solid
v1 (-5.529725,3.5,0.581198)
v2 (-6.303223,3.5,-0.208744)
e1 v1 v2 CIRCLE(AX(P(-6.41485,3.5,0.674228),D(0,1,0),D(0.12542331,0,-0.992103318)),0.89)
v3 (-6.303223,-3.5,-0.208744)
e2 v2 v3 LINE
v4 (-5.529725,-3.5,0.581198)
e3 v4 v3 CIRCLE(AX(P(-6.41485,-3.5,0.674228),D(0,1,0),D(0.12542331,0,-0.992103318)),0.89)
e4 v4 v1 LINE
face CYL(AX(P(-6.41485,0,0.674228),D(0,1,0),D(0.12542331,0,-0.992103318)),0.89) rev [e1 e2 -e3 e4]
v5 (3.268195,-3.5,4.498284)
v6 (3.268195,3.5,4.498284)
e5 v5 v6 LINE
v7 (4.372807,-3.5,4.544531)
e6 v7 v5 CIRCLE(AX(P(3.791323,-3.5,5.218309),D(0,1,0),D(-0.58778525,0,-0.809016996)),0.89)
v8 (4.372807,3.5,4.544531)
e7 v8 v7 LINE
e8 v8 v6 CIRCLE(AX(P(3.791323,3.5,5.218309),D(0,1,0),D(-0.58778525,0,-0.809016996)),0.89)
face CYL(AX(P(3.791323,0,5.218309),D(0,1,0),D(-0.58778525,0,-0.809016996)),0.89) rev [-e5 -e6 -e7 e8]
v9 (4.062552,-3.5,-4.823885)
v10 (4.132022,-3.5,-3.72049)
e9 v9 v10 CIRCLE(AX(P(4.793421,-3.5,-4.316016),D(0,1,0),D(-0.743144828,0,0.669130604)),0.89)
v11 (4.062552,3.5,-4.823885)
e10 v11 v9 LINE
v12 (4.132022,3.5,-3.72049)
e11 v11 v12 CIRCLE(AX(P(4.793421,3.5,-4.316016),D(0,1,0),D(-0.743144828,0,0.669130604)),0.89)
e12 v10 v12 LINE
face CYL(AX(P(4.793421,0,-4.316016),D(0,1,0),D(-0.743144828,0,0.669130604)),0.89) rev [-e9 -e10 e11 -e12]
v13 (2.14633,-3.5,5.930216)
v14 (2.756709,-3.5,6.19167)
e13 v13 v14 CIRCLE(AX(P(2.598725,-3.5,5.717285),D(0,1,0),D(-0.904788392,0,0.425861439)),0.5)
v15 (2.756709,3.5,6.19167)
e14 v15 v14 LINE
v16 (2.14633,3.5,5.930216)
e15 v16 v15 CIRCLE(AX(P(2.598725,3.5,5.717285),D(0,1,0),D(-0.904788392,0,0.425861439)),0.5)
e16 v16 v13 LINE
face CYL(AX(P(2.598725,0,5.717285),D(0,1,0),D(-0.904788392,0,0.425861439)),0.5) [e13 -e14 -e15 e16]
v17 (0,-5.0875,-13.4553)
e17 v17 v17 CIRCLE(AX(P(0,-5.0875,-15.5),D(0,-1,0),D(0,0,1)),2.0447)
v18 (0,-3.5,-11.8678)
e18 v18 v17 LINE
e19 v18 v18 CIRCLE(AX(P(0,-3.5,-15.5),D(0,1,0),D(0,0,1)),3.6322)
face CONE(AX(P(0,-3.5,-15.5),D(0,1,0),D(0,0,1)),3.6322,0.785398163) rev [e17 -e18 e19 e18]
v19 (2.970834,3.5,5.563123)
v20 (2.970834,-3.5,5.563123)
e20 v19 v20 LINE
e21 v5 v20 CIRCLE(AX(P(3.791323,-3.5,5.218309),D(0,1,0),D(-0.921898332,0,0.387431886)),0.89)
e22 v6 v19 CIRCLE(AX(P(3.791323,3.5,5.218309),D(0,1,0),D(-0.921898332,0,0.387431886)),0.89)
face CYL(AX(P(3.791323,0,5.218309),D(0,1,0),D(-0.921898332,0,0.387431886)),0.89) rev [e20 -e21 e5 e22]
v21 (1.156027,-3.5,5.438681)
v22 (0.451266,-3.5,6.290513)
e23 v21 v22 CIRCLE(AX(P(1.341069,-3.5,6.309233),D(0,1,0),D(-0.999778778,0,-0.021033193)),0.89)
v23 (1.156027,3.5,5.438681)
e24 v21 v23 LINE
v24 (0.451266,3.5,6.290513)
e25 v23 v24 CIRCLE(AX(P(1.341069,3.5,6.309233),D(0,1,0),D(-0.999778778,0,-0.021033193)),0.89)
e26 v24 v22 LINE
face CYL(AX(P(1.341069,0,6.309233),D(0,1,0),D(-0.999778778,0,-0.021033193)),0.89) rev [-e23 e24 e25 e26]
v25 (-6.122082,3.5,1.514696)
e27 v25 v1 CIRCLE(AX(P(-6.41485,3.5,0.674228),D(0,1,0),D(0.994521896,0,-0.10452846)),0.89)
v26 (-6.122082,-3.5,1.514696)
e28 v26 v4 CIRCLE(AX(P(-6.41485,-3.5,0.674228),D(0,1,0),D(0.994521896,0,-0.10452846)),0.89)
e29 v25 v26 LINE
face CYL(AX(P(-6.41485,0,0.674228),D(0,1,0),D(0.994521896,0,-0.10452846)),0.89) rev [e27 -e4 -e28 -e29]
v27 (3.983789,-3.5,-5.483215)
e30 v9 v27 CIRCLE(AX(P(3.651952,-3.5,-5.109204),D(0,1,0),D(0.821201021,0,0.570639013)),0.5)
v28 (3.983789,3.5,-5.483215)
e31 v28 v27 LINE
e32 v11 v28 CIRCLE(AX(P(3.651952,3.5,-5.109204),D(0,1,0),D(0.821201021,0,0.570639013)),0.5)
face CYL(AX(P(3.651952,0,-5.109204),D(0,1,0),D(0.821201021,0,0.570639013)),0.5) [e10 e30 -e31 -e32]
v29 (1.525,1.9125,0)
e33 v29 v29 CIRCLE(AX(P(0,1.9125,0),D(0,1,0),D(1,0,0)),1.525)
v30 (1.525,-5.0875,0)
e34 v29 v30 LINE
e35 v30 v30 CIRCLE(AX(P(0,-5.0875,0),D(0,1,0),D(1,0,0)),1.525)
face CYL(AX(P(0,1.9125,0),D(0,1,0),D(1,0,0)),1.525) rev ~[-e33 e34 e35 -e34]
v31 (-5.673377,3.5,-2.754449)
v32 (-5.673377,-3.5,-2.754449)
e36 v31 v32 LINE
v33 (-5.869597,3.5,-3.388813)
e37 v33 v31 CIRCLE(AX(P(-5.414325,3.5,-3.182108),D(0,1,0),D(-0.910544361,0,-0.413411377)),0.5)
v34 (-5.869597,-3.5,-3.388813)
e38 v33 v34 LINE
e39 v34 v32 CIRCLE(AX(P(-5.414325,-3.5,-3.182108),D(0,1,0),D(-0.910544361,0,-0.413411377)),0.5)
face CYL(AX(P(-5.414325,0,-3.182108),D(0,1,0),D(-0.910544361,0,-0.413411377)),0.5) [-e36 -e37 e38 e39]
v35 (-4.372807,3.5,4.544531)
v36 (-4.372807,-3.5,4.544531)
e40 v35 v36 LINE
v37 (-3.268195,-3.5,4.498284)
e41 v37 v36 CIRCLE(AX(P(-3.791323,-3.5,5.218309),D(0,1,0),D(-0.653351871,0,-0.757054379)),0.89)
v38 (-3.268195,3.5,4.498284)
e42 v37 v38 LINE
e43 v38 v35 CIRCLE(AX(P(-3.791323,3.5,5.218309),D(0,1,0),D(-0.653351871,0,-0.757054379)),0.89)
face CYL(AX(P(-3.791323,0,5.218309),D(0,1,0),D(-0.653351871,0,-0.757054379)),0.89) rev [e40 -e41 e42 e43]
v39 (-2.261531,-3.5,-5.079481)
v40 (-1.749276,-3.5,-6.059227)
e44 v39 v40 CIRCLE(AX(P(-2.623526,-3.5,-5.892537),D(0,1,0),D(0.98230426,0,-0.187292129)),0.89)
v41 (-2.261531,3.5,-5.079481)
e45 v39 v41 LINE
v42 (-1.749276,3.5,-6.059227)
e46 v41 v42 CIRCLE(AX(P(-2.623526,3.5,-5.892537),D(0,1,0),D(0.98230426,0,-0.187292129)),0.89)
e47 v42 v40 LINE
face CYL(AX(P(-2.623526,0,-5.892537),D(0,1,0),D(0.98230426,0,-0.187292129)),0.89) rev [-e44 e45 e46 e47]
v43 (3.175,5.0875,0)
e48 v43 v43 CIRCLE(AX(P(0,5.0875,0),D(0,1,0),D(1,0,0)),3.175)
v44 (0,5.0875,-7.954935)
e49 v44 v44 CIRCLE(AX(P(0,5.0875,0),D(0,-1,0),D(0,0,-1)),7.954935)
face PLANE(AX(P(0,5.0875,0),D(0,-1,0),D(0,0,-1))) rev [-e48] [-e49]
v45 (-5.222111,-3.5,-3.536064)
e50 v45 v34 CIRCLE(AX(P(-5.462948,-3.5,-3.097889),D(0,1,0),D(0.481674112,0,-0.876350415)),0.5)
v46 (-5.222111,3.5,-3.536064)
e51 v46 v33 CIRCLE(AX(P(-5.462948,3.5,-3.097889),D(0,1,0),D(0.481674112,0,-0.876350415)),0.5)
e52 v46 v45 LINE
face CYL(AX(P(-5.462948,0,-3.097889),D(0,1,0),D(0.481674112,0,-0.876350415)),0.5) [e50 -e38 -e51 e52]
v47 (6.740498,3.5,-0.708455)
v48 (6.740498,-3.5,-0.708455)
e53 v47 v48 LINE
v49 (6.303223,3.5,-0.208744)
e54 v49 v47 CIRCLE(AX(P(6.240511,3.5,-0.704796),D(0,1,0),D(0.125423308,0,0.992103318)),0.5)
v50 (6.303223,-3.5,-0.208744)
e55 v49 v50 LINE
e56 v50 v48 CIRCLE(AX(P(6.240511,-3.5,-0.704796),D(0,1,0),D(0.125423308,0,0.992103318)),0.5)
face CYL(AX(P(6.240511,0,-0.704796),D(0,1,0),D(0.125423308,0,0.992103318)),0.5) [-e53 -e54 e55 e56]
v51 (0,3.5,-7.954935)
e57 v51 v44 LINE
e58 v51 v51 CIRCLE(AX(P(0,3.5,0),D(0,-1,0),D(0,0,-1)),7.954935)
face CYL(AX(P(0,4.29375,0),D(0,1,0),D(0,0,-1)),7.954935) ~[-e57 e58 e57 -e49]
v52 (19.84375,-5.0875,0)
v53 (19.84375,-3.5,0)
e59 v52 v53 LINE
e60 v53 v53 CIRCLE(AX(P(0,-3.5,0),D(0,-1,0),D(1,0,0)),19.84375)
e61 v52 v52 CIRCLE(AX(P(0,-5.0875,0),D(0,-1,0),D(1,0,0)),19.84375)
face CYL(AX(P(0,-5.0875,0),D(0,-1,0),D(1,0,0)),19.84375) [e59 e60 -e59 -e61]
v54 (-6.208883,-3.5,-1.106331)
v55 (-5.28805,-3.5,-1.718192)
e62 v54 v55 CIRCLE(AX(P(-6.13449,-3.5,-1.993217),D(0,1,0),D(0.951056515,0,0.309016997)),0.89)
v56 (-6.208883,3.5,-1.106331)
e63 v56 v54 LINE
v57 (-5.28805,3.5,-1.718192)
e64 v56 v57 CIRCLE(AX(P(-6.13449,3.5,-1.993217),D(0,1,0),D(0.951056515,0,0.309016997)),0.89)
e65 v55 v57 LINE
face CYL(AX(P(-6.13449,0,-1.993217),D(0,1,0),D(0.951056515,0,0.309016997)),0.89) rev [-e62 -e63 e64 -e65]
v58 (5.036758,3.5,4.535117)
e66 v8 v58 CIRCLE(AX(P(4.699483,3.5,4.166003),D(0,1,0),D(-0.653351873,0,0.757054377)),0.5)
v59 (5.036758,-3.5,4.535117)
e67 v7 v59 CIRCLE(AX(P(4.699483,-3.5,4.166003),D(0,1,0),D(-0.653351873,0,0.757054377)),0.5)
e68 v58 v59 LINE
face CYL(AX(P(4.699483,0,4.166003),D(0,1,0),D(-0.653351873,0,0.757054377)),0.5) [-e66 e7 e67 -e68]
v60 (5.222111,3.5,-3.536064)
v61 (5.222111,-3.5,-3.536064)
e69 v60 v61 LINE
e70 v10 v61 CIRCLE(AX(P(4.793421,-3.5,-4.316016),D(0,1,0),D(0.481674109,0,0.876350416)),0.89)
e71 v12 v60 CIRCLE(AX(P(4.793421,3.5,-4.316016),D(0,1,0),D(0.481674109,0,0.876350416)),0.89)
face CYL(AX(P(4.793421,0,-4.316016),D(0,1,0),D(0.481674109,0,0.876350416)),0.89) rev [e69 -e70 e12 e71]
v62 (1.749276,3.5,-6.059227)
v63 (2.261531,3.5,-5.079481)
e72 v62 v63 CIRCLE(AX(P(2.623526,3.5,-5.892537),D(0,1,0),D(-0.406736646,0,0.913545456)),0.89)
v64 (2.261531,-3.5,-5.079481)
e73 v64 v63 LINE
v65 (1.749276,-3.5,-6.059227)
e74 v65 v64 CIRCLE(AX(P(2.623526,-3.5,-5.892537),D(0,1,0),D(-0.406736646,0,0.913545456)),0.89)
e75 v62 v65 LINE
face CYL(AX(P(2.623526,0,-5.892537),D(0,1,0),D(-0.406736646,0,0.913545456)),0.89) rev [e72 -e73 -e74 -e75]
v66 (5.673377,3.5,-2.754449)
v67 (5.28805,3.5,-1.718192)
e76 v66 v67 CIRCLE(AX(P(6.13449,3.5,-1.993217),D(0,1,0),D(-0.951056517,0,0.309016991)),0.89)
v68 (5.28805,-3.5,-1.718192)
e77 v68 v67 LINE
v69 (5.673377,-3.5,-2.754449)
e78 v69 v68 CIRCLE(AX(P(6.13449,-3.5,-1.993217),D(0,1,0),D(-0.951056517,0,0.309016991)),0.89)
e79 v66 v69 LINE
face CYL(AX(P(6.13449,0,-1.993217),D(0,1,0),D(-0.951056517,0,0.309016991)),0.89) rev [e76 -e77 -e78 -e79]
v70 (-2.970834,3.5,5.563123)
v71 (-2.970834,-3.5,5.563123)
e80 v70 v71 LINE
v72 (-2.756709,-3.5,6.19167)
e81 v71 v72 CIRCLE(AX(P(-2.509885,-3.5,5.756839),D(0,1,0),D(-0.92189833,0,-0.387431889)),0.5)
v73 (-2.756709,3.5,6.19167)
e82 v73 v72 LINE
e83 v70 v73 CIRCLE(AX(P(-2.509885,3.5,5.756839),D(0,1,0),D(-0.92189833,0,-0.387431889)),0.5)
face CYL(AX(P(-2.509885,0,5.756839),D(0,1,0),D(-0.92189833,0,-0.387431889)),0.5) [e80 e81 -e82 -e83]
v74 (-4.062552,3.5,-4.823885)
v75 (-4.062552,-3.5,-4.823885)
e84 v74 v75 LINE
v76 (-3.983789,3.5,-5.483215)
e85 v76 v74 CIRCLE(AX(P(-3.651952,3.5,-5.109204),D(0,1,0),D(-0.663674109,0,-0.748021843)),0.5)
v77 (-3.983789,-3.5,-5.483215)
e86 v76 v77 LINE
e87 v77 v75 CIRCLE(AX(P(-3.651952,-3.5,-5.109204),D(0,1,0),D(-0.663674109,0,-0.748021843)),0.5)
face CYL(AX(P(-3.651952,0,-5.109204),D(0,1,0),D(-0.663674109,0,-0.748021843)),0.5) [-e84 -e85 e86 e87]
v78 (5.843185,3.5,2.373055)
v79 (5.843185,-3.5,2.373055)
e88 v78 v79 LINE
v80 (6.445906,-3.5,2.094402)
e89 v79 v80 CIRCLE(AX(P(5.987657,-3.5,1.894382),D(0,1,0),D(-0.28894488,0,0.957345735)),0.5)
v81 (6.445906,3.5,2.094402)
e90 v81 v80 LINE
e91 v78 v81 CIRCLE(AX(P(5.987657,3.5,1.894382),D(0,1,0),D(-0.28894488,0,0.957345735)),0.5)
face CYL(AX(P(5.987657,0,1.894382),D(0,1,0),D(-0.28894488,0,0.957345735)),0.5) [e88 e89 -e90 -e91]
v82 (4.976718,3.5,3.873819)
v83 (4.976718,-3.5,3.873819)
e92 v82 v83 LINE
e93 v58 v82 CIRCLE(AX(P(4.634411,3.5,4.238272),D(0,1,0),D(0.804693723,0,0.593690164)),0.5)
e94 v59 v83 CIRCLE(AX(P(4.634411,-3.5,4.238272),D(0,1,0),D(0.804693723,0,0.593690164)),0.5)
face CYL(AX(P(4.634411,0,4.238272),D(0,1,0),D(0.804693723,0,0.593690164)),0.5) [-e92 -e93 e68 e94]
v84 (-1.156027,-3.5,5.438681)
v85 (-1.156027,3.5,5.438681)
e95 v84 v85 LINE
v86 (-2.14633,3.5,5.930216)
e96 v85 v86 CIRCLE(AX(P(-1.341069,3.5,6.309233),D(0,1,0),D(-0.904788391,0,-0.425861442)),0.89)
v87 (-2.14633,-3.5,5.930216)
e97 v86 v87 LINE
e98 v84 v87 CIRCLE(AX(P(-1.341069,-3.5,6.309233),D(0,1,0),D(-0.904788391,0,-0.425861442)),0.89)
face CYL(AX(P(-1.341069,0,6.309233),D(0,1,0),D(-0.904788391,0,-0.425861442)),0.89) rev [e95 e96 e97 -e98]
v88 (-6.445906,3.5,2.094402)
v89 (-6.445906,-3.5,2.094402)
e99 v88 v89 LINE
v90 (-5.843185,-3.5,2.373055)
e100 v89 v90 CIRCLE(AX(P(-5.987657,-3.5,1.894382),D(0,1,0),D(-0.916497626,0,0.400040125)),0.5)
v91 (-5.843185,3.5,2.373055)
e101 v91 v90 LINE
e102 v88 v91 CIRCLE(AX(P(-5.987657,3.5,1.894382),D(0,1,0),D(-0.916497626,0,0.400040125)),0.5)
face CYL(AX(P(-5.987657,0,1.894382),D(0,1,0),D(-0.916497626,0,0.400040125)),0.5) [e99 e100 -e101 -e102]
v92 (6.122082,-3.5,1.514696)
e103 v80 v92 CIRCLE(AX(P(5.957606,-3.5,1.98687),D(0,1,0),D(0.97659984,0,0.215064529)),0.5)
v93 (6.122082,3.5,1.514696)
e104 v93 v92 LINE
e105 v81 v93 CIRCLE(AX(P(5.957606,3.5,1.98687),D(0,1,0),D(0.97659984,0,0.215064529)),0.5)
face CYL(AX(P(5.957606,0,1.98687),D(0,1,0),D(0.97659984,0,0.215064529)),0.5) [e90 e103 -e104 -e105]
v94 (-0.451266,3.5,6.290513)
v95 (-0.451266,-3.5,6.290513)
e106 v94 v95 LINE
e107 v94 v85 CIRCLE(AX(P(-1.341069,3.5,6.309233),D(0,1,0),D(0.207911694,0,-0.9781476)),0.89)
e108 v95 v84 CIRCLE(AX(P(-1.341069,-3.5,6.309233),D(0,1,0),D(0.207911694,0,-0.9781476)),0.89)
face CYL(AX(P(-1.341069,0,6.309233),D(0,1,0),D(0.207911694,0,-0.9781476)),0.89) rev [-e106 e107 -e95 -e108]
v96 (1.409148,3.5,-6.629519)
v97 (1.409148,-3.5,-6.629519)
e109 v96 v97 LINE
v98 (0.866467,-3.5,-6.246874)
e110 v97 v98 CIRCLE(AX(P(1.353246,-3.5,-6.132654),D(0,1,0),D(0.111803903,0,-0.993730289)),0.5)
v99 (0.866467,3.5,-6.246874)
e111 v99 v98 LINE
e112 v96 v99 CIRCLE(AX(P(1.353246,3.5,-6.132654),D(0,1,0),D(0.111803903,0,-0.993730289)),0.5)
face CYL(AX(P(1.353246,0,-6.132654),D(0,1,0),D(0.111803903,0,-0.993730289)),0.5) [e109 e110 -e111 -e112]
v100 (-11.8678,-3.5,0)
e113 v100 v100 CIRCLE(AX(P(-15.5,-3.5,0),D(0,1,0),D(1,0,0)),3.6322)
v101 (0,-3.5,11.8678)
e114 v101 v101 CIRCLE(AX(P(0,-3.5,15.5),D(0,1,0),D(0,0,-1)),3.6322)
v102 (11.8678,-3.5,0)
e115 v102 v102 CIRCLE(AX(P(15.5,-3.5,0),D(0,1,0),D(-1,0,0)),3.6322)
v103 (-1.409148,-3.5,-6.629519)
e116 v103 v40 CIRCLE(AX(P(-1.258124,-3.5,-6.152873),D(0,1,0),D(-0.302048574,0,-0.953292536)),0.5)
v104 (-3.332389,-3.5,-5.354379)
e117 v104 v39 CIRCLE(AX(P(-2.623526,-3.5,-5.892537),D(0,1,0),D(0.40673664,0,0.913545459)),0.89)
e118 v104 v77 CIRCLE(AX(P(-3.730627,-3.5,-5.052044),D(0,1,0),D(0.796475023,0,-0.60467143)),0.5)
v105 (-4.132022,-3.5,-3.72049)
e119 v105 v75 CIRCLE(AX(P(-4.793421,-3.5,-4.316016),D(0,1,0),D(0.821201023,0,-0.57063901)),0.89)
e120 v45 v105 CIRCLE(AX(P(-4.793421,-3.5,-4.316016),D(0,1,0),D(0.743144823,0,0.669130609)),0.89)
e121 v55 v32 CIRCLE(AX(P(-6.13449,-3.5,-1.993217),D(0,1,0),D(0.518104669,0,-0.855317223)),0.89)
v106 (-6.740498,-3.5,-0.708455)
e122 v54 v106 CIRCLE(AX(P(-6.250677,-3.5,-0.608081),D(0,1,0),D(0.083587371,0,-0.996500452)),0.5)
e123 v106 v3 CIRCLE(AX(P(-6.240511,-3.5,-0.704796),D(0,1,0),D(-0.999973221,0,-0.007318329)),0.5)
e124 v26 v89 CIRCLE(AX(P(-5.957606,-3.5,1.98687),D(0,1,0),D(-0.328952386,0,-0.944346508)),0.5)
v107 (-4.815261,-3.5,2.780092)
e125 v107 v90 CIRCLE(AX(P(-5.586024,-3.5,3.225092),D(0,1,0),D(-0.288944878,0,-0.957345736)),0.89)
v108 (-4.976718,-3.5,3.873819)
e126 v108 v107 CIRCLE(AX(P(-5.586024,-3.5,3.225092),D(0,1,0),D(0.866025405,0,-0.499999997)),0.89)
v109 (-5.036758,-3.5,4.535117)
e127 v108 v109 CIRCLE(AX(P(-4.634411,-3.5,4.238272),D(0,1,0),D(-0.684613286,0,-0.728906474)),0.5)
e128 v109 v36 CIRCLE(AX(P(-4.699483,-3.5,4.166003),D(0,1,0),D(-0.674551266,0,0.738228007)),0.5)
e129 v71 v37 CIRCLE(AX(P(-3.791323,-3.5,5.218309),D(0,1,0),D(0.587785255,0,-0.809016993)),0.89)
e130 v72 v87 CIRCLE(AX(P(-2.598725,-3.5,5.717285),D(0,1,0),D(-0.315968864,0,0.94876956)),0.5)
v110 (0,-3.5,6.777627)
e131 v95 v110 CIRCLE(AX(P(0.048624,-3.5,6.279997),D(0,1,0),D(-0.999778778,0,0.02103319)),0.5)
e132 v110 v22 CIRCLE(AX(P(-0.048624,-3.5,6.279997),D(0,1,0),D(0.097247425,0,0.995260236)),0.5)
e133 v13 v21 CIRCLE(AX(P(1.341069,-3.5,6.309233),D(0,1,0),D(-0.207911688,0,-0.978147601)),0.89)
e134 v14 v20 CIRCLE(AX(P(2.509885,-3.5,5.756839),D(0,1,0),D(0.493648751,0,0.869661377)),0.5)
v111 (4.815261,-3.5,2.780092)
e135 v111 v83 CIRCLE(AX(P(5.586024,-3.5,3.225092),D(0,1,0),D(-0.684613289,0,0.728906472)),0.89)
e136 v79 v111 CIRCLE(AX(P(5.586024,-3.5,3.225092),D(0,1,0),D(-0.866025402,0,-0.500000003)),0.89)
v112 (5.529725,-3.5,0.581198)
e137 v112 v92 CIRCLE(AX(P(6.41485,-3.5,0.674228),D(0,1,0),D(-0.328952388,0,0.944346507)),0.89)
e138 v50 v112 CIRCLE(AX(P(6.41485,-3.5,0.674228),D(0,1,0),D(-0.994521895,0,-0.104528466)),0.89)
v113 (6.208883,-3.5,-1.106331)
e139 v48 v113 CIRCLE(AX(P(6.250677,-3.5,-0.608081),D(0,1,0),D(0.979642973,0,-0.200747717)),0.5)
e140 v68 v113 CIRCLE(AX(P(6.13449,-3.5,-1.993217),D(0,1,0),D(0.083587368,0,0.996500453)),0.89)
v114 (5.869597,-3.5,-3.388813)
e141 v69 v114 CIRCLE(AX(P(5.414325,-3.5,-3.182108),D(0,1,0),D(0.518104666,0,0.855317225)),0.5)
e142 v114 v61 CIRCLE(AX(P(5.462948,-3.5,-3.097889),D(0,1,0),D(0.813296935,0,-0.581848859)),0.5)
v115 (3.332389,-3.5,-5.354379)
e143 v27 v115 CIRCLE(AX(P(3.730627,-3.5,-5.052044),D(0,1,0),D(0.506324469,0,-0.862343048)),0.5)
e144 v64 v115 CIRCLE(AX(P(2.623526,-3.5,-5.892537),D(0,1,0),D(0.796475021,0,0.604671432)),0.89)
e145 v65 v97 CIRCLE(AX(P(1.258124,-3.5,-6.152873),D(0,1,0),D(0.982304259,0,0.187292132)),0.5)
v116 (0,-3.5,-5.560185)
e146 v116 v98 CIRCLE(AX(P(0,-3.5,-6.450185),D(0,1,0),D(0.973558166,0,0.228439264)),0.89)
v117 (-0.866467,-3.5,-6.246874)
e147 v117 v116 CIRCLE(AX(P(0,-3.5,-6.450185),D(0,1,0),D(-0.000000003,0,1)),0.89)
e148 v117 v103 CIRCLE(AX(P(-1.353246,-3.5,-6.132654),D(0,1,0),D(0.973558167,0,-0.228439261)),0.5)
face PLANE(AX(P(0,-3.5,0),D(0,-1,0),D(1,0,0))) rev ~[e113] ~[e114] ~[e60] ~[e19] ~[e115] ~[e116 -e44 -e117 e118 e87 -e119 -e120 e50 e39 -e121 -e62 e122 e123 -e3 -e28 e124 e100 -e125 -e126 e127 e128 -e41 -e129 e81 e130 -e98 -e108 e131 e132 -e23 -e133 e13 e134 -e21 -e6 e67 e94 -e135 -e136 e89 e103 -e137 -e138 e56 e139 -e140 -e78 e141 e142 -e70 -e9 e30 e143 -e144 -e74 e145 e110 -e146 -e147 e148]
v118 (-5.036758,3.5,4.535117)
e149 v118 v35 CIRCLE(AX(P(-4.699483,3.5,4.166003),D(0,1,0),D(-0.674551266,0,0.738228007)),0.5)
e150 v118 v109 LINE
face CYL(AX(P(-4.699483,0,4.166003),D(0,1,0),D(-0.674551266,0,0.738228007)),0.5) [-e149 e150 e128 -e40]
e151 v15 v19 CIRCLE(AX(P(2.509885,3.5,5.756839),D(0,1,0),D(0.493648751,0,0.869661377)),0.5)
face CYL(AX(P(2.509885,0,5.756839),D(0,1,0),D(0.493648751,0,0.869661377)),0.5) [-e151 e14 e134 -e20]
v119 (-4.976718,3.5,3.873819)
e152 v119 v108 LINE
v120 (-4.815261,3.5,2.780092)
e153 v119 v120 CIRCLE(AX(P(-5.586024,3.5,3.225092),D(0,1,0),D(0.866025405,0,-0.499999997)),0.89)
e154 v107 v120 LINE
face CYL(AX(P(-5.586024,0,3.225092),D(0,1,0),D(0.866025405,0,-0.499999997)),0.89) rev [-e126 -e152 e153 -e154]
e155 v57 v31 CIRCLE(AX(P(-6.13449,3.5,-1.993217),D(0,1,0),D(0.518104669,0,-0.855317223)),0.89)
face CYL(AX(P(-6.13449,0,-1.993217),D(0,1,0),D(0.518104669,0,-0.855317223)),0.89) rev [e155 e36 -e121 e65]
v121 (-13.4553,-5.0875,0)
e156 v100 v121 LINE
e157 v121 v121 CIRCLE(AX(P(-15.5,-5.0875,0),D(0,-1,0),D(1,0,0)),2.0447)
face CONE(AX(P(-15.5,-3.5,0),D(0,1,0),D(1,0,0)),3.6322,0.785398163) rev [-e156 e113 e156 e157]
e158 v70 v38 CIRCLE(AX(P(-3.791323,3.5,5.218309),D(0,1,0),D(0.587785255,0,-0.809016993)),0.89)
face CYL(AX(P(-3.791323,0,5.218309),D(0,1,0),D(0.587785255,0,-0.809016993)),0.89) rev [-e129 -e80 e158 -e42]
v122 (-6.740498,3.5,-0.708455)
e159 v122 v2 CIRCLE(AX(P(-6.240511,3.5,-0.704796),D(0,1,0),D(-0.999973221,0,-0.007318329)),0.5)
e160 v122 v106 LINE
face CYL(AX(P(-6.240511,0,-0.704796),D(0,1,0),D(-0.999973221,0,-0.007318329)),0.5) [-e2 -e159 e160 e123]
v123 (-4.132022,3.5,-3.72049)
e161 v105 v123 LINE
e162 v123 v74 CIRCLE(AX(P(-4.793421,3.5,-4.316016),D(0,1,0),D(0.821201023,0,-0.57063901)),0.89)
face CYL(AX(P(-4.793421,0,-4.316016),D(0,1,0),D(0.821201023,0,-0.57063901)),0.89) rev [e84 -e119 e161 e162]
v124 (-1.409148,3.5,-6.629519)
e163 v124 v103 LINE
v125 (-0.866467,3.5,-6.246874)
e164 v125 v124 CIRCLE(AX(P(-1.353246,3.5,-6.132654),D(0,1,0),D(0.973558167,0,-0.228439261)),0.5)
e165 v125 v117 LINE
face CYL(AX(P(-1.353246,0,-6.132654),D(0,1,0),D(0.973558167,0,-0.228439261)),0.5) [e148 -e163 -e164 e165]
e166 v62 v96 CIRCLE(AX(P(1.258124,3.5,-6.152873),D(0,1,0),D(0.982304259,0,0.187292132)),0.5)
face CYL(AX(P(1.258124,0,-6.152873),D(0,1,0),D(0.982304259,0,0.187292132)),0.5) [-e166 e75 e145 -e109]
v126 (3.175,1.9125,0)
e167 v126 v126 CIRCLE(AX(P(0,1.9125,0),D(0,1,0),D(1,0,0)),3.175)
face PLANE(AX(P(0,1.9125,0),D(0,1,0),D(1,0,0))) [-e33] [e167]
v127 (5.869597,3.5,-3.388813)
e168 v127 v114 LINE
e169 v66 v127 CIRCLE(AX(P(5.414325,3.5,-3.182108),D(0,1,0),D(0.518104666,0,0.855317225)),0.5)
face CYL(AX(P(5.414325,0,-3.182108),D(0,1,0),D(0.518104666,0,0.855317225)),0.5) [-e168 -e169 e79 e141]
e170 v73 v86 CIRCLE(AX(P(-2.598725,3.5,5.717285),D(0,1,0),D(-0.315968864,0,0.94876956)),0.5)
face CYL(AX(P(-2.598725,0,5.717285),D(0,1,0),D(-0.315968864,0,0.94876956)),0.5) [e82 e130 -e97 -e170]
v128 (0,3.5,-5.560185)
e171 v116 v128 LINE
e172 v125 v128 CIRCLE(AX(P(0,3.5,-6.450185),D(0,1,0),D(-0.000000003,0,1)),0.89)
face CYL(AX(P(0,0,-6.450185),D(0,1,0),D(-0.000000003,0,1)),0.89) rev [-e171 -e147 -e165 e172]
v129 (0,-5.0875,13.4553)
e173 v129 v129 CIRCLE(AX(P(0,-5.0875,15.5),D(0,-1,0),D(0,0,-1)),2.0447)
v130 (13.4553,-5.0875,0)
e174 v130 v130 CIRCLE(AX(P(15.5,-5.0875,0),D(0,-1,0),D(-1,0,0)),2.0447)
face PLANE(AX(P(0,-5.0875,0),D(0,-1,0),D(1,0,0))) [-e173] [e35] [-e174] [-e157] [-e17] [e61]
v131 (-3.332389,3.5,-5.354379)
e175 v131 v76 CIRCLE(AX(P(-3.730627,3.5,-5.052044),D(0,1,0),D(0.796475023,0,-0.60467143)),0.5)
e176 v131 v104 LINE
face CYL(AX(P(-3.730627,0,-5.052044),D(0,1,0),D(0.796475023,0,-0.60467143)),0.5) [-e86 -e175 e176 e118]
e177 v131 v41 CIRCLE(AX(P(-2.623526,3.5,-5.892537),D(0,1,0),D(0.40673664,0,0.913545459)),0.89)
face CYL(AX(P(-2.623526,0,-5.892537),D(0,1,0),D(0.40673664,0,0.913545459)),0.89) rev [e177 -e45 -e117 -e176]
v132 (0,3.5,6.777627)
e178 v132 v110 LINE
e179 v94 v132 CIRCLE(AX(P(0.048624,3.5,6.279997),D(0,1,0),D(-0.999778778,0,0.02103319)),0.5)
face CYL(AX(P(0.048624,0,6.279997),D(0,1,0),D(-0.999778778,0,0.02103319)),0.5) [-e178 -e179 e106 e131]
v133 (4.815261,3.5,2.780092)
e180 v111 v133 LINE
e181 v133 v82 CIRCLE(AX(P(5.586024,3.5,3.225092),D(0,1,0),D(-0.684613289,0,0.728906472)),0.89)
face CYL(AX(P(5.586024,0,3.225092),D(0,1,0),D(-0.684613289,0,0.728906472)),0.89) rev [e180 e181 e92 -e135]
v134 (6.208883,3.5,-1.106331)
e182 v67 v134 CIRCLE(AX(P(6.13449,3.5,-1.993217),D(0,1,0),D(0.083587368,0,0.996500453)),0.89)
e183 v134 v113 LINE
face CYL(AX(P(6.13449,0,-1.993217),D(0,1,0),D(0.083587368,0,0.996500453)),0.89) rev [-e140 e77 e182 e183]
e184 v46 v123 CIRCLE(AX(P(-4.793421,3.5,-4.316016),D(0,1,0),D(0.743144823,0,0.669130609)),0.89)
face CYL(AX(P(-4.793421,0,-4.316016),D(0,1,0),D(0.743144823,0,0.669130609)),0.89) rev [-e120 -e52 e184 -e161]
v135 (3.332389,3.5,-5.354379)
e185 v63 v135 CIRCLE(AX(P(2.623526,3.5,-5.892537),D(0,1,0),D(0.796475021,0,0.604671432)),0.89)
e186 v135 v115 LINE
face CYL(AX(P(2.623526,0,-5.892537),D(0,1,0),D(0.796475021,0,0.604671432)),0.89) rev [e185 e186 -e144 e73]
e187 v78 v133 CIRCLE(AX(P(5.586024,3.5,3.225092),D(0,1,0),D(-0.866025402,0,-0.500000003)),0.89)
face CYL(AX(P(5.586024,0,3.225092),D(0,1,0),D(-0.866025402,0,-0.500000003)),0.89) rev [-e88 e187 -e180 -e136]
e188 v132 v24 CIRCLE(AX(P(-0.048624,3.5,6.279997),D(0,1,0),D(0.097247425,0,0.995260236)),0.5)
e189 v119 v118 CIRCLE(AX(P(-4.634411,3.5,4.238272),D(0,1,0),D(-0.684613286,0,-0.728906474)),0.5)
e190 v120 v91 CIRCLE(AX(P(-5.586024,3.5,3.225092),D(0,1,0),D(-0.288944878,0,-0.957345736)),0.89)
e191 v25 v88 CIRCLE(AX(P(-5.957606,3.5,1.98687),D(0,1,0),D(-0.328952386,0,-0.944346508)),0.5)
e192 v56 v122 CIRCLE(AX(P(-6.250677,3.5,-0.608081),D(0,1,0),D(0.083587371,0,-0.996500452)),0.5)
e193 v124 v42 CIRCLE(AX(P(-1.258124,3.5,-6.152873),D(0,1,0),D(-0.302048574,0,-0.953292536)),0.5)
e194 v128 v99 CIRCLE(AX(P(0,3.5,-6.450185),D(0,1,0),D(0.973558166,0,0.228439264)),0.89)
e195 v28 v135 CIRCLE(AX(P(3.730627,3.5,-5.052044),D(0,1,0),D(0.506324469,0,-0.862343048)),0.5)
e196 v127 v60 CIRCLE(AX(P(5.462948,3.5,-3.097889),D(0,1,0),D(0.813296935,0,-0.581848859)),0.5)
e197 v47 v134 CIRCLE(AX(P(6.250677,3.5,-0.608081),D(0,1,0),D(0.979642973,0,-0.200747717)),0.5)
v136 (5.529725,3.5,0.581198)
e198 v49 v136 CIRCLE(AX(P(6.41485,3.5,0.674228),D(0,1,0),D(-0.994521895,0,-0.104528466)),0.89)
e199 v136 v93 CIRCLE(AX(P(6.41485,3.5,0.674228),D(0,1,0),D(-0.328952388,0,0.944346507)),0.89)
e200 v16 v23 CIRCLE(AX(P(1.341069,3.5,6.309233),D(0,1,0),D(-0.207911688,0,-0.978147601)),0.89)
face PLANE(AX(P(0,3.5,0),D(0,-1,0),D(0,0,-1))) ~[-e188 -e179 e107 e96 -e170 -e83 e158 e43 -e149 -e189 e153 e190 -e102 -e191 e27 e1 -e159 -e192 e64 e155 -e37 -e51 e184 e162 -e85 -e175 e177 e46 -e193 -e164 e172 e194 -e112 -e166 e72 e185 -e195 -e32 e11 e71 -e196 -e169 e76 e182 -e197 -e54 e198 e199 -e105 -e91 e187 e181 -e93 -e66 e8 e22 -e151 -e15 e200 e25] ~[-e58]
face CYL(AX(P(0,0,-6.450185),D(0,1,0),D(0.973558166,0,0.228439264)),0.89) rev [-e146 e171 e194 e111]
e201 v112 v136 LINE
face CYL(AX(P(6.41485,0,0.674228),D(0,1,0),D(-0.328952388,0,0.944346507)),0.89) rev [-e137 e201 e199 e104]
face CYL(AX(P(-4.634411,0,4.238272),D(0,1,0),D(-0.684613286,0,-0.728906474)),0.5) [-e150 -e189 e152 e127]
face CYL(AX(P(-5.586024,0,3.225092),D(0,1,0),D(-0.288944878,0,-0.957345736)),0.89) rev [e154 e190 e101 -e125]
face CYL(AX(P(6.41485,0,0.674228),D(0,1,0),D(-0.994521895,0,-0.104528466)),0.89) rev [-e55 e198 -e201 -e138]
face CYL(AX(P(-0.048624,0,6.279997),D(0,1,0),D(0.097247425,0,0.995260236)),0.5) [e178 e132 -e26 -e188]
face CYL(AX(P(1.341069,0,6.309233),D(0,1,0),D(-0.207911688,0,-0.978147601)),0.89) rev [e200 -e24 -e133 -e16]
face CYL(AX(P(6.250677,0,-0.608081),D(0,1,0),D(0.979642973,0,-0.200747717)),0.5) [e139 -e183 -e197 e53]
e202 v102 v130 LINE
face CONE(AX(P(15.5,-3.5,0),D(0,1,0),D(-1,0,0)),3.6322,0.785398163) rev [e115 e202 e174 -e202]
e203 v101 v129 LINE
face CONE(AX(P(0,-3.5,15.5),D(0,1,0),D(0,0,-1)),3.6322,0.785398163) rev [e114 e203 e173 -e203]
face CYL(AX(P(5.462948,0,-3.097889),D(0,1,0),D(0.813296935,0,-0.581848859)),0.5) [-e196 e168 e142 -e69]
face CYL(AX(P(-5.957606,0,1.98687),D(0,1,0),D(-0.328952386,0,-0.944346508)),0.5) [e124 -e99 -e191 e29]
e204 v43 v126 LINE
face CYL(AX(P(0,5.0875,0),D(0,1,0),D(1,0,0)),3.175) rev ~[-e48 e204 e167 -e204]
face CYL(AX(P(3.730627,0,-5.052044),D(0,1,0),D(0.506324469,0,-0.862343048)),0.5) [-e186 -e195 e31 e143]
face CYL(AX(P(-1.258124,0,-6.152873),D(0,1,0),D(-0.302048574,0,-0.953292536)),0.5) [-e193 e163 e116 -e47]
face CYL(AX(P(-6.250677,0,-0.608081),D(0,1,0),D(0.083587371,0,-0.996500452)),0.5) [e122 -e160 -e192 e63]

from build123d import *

# Parameters (mm, degrees)
BOSS_EXTRUDE1_DEPTH     = 3.556
CIRPATTERN1_COUNT       = 15
SKETCH2_W               = 7.954934775
SKETCH2_H               = 1.5875
SKETCH9_R               = 19.84375
SKETCH9_R_2             = 1.5
BOSS_EXTRUDE2_DEPTH     = 1.5875
SKETCH3_R               = 1.74625
CUT_EXTRUDE1_DEPTH      = 6.087499985
CUT_EXTRUDE1_DEPTH_BACK = 6.087499985
CIRPATTERN2_COUNT       = 4
SKETCH12_R              = 3.175
CUT_EXTRUDE2_DEPTH      = 3.175
SKETCH13_R              = 1.525
CUT_EXTRUDE4_DEPTH      = 7.99999997


with BuildPart() as part:
    # Sketch1 → Boss-Extrude1 (new body, symmetric)
    with BuildSketch(Plane(origin=(0, 0, 0), x_dir=(1, 0, 0), z_dir=(0, 1, 0))):
        with BuildLine():
            ThreePointArc((0.866466766, 6.246873729), (0.552789859, 5.752672402), (0, 5.560184675))
            ThreePointArc((0, 5.560184675), (-1.156027397, -5.438681299), (2.261530849, 5.079481453))
            ThreePointArc((2.261530849, 5.079481453), (1.834823997, 5.480167634), (1.749275672, 6.059226903))
            ThreePointArc((1.749275672, 6.059226903), (1.687548707, 6.408986287), (1.409147818, 6.629519254))
            ThreePointArc((1.409147818, 6.629519254), (1.065117112, 6.541288206), (0.866466766, 6.246873729))
        make_face()
    boss_extrude1 = extrude(amount=BOSS_EXTRUDE1_DEPTH, both=True)

    # CirPattern1: Boss-Extrude1 ×15 about axis
    cirpattern1_axis = Axis((0, 0, 0), (0, 1, 0))
    for i in range(1, CIRPATTERN1_COUNT):
        add(boss_extrude1.rotate(cirpattern1_axis, i * 360 / CIRPATTERN1_COUNT))

    # Sketch2 → Revolve3 (revolve)
    with BuildSketch(Plane(origin=(0, 0, 0), x_dir=(0, 0, -1), z_dir=(1, 0, 0))):
        with Locations((3.977467388, 4.293749985)):
            Rectangle(SKETCH2_W, SKETCH2_H)
    revolve3 = revolve(axis=Axis((0, 3.3, 0), (0, -1, 0)))

    # Mirror1: Revolve3 across plane
    add(revolve3.mirror(Plane.ZX))

    # Sketch9 → Boss-Extrude2 (add)
    with BuildSketch(Plane.XZ.offset(5.087499985)):
        Circle(SKETCH9_R)
        Circle(SKETCH9_R_2, mode=Mode.SUBTRACT)
    extrude(amount=-BOSS_EXTRUDE2_DEPTH)

    # Sketch3 → Cut-Extrude1 (cut, two sides)
    with BuildSketch(Plane(origin=(0, 0, 0), x_dir=(1, 0, 0), z_dir=(0, 1, 0))) as cut_extrude1_sk:
        with Locations((-15.5, 0)):
            Circle(SKETCH3_R)
        with Locations((0, 15.5)):
            Circle(SKETCH3_R)
        with Locations((15.5, 0)):
            Circle(SKETCH3_R)
        with Locations((0, -15.5)):
            Circle(SKETCH3_R)
    extrude(amount=CUT_EXTRUDE1_DEPTH, mode=Mode.SUBTRACT)
    extrude(cut_extrude1_sk.sketch, amount=-CUT_EXTRUDE1_DEPTH_BACK, mode=Mode.SUBTRACT)

    # Sketch6 → Cut-Revolve2 (revolve, cut)
    with BuildSketch(Plane.XY):
        Polygon((-11.8678, -3.499999985), (-15.5, -7.132199985), (-15.5, -3.499999985), align=None)
    cut_revolve2 = revolve(axis=Axis((-15.5, -5.087499985, 0), (0, 1, 0)), mode=Mode.SUBTRACT)

    # CirPattern2: Cut-Revolve2 ×4 about axis
    cirpattern2_axis = Axis((0, 0, 0), (0, 1, 0))
    for i in range(1, CIRPATTERN2_COUNT):
        add(cut_revolve2.rotate(cirpattern2_axis, i * 360 / CIRPATTERN2_COUNT), mode=Mode.SUBTRACT)

    # Sketch12 → Cut-Extrude2 (cut)
    with BuildSketch(Plane(origin=(0, 5.087499985, 0), x_dir=(1, 0, 0), z_dir=(0, 1, 0))):
        Circle(SKETCH12_R)
    extrude(amount=-CUT_EXTRUDE2_DEPTH, mode=Mode.SUBTRACT)

    # Sketch13 → Cut-Extrude4 (cut, through all)
    with BuildSketch(Plane(origin=(0, 1.912499985, 0), x_dir=(1, 0, 0), z_dir=(0, 1, 0))):
        Circle(SKETCH13_R)
    extrude(amount=-CUT_EXTRUDE4_DEPTH, mode=Mode.SUBTRACT)


solid = part.part
